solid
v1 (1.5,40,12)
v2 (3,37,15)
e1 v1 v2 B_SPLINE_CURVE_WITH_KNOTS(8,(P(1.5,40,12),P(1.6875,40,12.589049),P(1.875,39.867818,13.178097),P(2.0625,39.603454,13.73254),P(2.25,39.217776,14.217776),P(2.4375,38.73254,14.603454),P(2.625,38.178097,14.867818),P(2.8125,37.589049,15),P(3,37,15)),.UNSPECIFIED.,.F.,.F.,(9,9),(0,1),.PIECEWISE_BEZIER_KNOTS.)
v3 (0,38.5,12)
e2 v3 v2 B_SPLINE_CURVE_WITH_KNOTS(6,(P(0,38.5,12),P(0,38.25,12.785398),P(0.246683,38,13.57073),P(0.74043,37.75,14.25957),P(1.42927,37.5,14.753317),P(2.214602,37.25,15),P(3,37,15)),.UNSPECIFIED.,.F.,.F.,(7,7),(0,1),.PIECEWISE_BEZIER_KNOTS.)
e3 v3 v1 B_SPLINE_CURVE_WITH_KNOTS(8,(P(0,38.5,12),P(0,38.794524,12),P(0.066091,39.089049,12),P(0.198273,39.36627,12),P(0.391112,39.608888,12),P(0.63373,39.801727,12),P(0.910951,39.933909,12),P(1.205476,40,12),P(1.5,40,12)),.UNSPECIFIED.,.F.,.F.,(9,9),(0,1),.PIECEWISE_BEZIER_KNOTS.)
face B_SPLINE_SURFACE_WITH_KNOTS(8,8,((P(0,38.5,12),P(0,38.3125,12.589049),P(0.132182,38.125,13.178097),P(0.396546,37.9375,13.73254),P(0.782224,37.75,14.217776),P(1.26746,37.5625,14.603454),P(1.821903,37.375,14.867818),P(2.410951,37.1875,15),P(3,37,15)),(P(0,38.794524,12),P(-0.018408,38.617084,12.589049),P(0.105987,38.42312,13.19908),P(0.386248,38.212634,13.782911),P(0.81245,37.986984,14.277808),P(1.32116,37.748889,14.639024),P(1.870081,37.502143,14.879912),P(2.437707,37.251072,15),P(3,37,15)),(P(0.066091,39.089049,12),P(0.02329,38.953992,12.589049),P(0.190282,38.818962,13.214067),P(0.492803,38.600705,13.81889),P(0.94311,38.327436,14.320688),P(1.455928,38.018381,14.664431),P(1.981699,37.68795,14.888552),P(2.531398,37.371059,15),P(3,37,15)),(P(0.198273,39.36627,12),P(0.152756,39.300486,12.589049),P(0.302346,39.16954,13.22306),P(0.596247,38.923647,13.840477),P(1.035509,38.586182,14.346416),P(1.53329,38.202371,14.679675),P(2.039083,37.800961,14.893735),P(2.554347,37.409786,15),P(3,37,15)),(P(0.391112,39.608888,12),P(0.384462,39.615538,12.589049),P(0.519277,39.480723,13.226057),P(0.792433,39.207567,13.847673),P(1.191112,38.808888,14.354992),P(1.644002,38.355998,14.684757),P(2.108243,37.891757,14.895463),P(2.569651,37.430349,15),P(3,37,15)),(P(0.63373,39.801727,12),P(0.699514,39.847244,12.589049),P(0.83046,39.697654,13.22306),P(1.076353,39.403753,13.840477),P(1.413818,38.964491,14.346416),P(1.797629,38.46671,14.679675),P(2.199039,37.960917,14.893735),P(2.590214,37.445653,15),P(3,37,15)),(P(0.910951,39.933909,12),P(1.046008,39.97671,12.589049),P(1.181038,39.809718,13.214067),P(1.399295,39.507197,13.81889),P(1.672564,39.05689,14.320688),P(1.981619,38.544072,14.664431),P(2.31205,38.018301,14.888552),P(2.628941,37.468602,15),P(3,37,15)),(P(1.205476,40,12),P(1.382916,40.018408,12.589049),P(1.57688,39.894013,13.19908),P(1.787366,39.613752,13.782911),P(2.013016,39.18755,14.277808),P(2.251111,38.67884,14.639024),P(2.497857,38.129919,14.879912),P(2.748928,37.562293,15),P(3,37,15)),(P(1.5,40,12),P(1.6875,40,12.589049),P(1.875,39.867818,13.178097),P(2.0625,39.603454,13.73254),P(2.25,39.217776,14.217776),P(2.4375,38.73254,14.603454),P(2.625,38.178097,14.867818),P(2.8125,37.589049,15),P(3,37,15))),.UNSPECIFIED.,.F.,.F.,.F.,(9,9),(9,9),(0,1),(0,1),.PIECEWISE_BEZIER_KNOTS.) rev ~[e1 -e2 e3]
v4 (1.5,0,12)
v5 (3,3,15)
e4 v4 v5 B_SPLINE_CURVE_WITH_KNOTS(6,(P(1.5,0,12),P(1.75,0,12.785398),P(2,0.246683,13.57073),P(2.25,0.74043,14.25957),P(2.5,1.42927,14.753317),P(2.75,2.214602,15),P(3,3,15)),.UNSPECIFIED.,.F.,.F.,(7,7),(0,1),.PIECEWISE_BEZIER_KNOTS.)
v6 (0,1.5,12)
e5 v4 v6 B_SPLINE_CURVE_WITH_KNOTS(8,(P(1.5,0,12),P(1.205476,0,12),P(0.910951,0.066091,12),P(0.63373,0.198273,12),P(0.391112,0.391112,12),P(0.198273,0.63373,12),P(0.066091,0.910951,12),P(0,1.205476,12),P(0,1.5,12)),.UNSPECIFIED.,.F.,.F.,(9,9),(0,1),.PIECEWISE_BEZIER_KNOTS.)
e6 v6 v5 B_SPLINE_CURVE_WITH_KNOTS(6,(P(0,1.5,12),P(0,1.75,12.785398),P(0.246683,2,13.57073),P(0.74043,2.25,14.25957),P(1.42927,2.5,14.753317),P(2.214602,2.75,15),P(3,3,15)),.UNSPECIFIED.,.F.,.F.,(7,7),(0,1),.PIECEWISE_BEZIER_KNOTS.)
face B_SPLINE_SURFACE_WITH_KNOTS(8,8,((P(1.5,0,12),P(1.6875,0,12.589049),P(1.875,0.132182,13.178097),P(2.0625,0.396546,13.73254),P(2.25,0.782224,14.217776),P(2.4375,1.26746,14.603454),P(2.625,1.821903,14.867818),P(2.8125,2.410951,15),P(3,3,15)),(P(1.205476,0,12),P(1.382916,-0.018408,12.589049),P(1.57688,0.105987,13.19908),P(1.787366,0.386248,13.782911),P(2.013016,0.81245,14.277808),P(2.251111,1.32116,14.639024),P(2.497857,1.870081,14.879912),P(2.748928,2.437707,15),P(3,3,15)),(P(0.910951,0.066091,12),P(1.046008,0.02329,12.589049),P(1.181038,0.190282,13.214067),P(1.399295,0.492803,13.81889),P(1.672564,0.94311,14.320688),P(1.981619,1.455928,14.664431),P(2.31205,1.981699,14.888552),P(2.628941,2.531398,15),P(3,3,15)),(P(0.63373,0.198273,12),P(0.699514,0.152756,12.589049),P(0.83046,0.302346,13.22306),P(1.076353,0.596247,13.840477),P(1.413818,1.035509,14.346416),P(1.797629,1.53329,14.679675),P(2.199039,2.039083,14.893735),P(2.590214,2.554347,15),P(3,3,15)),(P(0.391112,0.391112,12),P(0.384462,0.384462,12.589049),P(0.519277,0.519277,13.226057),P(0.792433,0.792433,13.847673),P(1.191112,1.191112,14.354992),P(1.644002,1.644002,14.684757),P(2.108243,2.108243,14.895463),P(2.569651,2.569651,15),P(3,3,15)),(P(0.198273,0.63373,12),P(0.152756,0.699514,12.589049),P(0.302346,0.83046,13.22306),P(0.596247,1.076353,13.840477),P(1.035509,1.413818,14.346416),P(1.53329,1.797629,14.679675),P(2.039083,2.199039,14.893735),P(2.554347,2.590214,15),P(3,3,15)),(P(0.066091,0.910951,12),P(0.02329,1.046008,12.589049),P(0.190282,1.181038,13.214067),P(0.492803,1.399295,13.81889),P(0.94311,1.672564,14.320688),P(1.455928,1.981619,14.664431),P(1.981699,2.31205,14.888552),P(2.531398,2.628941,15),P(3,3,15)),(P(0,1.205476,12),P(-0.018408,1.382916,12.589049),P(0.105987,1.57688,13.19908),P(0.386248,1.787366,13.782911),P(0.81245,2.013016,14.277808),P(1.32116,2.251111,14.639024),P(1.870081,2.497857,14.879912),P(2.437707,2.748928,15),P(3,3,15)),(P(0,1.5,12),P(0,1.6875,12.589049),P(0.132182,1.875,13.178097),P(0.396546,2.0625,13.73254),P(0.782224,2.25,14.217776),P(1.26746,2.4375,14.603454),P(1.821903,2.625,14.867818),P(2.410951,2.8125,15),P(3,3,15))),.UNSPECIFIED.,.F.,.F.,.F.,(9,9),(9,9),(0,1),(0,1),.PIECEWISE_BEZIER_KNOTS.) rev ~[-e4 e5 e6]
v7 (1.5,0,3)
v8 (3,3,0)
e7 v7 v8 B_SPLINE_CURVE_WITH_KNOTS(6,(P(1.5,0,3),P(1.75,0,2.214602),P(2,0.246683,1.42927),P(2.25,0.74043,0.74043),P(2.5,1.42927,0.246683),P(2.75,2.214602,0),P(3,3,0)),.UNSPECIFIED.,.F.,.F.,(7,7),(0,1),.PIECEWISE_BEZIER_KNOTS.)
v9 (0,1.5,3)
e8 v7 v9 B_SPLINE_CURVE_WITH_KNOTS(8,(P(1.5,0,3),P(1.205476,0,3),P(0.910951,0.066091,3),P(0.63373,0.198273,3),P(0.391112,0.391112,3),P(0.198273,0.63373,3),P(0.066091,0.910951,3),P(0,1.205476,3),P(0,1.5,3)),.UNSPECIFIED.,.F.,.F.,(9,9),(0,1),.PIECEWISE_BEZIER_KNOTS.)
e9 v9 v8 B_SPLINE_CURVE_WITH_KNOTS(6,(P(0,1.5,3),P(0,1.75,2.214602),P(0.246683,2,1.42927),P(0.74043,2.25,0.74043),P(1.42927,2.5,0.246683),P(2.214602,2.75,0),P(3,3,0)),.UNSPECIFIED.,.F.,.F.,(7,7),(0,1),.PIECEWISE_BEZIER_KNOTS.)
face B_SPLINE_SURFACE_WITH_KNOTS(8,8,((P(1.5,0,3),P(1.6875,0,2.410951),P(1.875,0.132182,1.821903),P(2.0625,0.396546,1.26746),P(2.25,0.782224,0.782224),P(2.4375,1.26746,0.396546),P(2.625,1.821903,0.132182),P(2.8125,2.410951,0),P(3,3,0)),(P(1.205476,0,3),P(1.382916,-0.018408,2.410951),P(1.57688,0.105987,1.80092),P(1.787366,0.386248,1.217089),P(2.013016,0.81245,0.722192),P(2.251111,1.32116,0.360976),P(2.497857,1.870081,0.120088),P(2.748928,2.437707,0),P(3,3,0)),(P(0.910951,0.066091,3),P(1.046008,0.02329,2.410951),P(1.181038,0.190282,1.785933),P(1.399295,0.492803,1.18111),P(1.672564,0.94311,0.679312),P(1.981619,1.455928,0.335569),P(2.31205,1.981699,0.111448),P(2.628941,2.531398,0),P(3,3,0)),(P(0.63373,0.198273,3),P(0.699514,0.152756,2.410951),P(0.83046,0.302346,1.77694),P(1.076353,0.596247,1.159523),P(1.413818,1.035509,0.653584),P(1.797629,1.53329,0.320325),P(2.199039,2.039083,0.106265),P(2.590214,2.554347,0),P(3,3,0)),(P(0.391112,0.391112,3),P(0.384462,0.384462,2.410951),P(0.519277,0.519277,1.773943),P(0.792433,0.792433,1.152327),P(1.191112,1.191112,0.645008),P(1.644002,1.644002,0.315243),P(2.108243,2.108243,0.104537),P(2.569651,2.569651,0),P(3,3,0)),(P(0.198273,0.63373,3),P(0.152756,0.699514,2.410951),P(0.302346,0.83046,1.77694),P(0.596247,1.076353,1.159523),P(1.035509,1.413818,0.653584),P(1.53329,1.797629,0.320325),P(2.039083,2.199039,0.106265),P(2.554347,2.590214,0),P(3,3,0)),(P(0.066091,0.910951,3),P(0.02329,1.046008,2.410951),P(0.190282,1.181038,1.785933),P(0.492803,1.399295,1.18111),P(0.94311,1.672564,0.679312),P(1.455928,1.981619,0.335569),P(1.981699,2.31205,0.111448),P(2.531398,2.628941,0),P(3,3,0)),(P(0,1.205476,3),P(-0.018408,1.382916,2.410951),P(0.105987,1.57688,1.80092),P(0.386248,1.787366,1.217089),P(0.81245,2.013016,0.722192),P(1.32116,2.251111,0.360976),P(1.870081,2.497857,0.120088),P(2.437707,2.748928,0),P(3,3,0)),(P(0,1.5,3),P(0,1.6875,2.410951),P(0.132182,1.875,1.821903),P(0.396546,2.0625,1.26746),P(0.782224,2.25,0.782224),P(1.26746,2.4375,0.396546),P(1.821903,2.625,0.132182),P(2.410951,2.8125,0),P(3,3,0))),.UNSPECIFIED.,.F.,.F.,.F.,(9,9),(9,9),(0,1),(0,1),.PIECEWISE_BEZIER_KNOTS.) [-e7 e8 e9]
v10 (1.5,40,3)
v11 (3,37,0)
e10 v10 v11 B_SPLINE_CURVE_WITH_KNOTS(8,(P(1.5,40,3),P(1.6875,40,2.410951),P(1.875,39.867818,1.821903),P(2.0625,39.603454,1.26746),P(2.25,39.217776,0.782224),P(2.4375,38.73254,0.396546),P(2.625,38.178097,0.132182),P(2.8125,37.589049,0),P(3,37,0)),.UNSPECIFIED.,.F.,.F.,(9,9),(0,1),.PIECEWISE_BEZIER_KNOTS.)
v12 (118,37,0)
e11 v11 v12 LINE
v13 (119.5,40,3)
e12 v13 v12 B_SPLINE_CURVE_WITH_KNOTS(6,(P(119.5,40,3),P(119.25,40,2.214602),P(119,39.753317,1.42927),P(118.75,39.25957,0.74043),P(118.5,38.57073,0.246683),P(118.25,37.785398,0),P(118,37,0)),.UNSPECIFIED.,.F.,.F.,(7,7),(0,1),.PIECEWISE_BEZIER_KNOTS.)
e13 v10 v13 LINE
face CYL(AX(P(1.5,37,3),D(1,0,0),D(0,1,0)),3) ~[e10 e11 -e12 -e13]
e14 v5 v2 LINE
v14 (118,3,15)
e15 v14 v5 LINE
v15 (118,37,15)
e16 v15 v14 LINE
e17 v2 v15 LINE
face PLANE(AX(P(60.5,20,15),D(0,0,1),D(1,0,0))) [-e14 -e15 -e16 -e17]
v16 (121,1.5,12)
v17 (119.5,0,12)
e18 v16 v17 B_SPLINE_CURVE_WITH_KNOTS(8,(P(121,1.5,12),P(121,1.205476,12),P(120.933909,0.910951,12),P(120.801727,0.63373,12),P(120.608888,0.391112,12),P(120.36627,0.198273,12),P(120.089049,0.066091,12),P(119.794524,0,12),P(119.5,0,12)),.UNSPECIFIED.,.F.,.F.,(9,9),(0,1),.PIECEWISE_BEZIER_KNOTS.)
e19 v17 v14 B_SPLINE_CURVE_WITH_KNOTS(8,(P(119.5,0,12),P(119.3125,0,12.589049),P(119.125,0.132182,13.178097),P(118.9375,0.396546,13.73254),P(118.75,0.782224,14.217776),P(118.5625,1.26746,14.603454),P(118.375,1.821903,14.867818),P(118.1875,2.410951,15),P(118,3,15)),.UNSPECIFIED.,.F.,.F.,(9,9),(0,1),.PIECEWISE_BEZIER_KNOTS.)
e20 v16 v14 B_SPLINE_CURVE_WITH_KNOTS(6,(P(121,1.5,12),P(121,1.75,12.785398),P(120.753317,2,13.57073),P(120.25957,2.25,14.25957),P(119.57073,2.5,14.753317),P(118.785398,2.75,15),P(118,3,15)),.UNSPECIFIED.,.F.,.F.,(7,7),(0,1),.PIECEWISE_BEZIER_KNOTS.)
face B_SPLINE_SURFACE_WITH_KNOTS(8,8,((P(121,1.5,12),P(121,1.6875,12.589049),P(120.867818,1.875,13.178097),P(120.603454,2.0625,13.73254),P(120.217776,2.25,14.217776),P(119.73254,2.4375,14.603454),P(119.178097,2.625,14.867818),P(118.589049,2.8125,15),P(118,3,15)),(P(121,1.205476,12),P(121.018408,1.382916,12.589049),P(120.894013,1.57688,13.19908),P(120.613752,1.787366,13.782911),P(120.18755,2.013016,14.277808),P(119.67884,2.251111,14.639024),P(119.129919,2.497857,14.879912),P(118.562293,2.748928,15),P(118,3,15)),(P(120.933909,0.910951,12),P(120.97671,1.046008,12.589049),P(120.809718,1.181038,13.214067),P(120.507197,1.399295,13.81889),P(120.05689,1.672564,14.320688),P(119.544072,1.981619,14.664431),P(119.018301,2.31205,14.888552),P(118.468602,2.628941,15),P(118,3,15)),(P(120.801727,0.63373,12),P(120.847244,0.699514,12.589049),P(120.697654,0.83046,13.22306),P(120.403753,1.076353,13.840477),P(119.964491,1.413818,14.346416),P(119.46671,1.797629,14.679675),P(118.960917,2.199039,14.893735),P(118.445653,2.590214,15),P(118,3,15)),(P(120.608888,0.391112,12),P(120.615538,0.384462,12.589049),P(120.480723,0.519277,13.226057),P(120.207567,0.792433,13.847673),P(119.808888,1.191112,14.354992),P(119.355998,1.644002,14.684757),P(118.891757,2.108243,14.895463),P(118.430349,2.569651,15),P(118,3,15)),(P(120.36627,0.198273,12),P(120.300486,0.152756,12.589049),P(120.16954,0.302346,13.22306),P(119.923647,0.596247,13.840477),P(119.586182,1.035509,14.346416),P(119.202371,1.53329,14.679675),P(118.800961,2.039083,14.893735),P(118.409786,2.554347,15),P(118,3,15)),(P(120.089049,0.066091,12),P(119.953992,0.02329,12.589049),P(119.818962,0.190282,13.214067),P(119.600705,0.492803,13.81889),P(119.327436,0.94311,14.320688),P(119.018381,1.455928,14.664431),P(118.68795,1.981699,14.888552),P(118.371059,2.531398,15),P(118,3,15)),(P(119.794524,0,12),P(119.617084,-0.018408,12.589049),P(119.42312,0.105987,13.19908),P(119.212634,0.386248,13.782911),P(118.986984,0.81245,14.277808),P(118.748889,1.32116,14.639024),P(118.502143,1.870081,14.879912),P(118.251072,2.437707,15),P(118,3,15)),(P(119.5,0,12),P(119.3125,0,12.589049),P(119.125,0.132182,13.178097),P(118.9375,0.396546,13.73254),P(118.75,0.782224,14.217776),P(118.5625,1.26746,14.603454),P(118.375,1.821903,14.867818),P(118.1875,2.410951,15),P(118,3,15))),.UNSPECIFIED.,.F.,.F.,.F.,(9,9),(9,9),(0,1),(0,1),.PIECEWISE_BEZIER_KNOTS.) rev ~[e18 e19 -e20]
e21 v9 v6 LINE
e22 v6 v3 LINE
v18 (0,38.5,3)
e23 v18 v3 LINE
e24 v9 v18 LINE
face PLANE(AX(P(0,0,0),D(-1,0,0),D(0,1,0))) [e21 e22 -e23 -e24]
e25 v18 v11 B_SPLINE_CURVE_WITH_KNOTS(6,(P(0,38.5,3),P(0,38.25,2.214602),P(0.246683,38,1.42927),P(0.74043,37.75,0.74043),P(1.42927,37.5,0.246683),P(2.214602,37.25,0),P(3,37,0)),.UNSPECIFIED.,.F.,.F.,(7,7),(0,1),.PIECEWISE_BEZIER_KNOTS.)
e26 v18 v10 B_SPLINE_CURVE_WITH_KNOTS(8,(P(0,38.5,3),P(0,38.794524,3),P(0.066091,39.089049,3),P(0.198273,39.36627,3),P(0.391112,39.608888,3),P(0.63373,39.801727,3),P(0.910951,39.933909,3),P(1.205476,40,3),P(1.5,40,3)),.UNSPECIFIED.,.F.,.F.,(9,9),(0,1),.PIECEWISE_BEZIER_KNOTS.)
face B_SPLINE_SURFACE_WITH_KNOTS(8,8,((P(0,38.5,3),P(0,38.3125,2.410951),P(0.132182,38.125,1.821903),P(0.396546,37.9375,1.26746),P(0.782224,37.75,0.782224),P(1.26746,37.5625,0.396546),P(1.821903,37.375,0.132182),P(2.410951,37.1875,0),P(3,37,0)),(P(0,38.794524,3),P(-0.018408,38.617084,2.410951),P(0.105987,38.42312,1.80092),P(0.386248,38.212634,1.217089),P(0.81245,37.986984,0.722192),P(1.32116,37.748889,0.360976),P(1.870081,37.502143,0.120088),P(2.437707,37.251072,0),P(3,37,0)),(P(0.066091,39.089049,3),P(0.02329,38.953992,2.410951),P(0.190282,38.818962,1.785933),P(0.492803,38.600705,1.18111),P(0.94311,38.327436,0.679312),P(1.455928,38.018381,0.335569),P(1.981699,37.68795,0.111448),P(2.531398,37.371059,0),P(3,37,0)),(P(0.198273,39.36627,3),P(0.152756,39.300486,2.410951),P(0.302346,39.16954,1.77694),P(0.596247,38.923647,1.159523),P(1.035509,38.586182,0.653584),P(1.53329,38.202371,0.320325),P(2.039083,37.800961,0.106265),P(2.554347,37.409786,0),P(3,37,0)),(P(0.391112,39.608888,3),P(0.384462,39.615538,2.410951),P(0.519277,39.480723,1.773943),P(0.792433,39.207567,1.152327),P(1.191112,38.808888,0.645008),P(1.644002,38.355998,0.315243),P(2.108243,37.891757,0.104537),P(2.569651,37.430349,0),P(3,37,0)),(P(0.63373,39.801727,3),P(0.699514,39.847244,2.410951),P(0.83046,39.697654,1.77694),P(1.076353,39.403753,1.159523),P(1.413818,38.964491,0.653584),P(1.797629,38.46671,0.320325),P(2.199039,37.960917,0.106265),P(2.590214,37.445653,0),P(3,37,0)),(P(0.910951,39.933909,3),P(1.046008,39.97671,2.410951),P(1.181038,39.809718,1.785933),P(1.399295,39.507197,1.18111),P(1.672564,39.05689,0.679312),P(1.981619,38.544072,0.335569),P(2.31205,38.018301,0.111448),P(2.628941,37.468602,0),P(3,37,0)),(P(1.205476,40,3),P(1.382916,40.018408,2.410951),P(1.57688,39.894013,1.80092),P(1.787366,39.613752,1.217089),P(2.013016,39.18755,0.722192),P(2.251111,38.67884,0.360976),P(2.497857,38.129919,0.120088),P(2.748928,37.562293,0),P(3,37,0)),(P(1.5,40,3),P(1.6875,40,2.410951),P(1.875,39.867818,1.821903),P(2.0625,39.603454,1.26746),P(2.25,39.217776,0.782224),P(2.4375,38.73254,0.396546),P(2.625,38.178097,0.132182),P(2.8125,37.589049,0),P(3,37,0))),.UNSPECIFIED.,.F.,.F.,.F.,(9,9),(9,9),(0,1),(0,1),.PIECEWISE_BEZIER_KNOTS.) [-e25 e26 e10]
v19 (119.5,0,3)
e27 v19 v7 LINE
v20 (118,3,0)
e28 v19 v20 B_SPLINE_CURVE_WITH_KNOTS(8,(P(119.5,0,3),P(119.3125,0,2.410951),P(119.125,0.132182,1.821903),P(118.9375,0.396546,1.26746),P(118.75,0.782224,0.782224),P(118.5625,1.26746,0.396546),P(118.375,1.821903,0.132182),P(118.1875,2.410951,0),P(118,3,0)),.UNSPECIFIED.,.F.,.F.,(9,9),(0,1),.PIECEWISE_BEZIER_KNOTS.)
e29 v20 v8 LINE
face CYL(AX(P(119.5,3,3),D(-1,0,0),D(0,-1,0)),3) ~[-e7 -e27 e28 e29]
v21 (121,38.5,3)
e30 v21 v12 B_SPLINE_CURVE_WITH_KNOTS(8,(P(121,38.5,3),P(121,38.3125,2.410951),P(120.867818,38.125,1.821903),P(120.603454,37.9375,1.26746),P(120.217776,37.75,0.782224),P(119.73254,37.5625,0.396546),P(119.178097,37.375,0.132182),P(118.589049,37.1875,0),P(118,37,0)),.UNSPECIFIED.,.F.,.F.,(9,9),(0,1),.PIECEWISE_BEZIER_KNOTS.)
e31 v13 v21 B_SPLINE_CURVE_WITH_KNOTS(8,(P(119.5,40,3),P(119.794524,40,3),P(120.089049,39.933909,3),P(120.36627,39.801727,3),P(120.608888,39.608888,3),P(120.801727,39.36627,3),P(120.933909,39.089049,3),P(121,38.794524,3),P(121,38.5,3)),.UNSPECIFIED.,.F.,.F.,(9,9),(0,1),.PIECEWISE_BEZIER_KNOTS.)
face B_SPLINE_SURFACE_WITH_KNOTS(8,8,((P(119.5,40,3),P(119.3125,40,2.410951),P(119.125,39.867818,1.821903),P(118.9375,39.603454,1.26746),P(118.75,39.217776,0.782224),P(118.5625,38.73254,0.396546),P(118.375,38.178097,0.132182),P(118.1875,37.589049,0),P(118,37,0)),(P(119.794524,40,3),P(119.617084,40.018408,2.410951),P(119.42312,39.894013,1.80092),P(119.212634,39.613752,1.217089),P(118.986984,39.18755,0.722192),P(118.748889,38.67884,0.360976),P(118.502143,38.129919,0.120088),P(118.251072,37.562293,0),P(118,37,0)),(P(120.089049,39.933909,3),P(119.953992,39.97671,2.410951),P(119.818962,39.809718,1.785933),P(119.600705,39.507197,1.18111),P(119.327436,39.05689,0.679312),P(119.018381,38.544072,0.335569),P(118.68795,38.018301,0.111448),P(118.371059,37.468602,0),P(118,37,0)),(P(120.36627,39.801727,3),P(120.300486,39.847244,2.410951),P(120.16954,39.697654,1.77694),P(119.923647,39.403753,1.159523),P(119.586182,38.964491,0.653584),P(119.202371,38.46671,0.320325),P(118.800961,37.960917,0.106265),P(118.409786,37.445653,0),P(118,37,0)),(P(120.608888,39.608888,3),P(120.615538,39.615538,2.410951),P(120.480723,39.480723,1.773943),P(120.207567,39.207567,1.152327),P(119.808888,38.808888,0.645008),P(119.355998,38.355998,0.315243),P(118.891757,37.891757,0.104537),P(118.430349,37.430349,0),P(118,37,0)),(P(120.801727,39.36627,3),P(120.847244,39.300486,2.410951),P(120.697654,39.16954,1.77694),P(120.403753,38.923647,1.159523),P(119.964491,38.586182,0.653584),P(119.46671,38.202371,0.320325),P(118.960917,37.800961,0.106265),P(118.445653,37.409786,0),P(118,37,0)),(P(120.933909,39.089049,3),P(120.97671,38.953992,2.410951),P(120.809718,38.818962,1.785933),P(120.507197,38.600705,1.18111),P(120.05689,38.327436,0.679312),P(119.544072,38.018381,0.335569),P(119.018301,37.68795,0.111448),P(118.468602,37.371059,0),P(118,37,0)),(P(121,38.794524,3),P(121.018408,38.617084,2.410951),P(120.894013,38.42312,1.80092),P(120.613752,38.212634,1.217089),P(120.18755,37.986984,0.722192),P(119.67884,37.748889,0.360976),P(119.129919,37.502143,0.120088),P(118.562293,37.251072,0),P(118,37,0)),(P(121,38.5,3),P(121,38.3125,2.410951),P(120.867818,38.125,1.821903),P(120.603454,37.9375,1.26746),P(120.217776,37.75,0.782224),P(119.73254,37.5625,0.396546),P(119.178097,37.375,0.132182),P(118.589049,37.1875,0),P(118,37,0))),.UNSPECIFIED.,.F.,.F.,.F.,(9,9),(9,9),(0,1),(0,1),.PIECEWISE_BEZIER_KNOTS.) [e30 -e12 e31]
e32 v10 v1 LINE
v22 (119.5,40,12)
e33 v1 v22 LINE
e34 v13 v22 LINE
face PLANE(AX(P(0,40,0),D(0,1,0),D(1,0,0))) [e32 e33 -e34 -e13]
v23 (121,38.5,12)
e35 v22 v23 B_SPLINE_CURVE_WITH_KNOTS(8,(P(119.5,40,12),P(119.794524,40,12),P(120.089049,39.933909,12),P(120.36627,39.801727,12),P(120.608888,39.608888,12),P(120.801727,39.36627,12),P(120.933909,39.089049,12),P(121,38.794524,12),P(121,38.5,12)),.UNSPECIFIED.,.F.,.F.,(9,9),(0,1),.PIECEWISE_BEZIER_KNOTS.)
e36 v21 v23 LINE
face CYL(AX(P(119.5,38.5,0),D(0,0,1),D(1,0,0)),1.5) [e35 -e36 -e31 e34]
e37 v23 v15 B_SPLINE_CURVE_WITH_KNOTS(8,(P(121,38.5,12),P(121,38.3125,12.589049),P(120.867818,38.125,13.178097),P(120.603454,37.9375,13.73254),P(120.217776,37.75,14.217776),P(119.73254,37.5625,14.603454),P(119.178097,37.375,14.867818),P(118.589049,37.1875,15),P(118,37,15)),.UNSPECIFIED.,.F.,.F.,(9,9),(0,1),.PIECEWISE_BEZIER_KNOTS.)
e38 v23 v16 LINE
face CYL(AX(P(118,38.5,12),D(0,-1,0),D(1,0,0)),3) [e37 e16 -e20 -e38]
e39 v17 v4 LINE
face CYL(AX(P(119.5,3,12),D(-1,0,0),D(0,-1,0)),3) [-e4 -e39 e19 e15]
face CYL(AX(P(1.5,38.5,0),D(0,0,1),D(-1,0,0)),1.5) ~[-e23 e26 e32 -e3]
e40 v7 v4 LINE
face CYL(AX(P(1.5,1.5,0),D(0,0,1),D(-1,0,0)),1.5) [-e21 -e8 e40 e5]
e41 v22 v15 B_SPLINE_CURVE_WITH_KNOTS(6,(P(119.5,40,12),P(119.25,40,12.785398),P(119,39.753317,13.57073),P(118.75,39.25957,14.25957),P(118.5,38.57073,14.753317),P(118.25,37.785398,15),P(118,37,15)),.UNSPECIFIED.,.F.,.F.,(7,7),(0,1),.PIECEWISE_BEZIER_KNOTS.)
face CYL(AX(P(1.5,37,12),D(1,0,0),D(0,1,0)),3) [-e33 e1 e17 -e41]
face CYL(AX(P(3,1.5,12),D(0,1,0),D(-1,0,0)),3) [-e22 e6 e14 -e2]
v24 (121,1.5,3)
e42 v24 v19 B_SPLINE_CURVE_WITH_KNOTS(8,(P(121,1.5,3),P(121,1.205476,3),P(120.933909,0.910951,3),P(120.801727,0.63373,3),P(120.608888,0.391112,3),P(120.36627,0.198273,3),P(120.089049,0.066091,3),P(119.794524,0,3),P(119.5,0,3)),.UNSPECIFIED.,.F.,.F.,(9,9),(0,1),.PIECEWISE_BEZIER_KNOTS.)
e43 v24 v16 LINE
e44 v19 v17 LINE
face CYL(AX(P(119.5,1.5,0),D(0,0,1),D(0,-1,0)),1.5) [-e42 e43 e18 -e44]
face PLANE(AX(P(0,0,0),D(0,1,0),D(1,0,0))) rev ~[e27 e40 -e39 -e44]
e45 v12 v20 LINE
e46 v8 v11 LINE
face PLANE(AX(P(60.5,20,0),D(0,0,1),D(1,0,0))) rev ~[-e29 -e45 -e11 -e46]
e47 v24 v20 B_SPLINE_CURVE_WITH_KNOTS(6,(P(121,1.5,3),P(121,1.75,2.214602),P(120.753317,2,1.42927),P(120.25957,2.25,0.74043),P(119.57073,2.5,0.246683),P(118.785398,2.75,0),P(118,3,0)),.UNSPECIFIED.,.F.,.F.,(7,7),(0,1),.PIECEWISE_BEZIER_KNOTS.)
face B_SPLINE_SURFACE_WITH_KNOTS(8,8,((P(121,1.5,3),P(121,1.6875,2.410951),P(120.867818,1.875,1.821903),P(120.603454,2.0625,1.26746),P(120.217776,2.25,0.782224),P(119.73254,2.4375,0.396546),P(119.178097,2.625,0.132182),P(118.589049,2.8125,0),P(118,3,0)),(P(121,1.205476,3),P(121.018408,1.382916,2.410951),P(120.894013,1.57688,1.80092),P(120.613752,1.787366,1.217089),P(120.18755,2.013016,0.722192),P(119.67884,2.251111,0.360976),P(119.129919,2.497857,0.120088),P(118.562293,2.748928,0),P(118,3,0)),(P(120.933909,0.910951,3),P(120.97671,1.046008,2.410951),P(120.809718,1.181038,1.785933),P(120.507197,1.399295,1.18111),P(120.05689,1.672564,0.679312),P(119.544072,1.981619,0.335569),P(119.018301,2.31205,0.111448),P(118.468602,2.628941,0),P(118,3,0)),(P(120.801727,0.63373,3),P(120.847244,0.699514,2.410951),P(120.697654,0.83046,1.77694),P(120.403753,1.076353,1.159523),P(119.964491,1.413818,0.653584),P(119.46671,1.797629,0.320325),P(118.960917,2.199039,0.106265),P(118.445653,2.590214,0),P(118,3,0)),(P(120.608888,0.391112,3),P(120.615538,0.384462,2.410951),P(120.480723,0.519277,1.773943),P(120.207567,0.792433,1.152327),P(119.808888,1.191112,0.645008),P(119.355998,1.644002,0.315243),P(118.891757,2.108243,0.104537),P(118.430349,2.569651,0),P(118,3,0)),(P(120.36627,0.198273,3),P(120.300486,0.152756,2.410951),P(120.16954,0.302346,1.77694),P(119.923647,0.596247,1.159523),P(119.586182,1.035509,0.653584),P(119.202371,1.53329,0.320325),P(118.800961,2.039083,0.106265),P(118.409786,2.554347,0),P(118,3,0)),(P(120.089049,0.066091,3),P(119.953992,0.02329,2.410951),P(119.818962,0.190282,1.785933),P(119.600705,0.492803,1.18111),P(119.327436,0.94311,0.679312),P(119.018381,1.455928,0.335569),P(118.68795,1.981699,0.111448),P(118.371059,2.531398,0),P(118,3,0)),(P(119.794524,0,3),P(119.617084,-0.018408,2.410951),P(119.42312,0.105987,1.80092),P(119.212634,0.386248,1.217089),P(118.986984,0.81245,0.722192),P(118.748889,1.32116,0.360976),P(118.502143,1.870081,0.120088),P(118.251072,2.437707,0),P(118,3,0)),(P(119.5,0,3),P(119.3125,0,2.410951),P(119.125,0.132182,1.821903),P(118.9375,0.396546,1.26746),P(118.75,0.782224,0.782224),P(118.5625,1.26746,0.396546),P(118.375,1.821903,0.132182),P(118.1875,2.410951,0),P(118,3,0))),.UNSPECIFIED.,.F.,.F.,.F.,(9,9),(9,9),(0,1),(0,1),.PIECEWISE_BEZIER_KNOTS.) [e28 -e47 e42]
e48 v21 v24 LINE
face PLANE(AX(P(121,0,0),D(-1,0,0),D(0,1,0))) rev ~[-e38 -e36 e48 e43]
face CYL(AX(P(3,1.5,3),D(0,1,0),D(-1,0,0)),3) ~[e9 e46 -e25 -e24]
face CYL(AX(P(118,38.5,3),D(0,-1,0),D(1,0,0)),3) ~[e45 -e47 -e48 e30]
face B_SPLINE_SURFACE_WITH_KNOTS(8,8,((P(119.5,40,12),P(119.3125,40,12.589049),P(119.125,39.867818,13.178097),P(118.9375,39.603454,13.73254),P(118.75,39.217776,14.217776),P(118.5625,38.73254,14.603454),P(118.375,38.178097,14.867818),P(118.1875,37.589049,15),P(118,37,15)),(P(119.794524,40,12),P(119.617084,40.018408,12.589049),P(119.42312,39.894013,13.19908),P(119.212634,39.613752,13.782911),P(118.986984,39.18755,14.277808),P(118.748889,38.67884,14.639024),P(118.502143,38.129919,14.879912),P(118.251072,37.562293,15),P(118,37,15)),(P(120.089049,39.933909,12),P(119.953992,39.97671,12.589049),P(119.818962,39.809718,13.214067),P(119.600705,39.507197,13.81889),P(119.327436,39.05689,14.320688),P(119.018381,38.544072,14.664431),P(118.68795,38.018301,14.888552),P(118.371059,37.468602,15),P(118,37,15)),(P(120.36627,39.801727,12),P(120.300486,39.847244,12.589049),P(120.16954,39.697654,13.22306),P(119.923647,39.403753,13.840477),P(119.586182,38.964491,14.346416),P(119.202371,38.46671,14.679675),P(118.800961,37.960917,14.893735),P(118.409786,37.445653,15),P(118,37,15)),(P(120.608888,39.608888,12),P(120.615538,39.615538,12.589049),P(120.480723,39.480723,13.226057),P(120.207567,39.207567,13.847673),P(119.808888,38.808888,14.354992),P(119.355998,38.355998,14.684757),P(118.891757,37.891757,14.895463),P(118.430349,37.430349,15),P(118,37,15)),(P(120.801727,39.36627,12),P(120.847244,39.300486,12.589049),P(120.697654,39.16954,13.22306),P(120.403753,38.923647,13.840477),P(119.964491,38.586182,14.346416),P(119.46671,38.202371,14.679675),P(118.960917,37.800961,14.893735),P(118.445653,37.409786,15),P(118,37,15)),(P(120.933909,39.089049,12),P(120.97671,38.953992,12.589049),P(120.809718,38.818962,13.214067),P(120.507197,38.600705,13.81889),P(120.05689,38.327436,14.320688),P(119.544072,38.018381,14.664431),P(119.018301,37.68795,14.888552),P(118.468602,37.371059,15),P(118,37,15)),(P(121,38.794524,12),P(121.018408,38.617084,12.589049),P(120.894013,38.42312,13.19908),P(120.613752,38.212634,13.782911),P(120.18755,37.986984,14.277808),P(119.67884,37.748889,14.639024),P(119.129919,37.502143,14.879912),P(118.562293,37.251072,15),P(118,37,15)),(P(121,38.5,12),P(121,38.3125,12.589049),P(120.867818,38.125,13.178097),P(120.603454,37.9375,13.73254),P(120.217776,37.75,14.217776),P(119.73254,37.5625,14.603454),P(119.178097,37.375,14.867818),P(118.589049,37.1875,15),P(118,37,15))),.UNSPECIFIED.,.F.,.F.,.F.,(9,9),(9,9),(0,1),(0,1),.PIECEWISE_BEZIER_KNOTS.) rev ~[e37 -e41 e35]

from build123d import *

# Parameters (mm, degrees)
BOX_W       = 121
BOX_H       = 40
BOX_DEPTH   = 15
FILLET_R    = 1.5
FILLET003_R = 3


with BuildPart() as part:
    # Box → Box (new body)
    with BuildSketch(Plane.XY):
        with Locations((60.5, 20)):
            Rectangle(BOX_W, BOX_H)
    extrude(amount=BOX_DEPTH)

    # Fillet
    fillet_edges = [part.edges().sort_by_distance(p)[0] for p in [
        (0, 0, 7.5),
        (0, 40, 7.5),
        (121, 0, 7.5),
        (121, 40, 7.5),
    ]]
    fillet(fillet_edges, radius=FILLET_R)

    # Fillet003
    fillet003_edges = [part.edges().sort_by_distance(p)[0] for p in [
        (0, 20, 15),
        (0, 20, 0),
        (0.43934, 0.43934, 15),
        (60.5, 0, 15),
        (120.56066, 0.43934, 15),
        (121, 20, 15),
        (120.56066, 39.56066, 15),
        (60.5, 40, 15),
        (0.43934, 39.56066, 15),
        (0.43934, 0.43934, 0),
        (0.43934, 39.56066, 0),
        (60.5, 0, 0),
        (120.56066, 0.43934, 0),
        (121, 20, 0),
        (120.56066, 39.56066, 0),
        (60.5, 40, 0),
    ]]
    fillet(fillet003_edges, radius=FILLET003_R)


solid = part.part
